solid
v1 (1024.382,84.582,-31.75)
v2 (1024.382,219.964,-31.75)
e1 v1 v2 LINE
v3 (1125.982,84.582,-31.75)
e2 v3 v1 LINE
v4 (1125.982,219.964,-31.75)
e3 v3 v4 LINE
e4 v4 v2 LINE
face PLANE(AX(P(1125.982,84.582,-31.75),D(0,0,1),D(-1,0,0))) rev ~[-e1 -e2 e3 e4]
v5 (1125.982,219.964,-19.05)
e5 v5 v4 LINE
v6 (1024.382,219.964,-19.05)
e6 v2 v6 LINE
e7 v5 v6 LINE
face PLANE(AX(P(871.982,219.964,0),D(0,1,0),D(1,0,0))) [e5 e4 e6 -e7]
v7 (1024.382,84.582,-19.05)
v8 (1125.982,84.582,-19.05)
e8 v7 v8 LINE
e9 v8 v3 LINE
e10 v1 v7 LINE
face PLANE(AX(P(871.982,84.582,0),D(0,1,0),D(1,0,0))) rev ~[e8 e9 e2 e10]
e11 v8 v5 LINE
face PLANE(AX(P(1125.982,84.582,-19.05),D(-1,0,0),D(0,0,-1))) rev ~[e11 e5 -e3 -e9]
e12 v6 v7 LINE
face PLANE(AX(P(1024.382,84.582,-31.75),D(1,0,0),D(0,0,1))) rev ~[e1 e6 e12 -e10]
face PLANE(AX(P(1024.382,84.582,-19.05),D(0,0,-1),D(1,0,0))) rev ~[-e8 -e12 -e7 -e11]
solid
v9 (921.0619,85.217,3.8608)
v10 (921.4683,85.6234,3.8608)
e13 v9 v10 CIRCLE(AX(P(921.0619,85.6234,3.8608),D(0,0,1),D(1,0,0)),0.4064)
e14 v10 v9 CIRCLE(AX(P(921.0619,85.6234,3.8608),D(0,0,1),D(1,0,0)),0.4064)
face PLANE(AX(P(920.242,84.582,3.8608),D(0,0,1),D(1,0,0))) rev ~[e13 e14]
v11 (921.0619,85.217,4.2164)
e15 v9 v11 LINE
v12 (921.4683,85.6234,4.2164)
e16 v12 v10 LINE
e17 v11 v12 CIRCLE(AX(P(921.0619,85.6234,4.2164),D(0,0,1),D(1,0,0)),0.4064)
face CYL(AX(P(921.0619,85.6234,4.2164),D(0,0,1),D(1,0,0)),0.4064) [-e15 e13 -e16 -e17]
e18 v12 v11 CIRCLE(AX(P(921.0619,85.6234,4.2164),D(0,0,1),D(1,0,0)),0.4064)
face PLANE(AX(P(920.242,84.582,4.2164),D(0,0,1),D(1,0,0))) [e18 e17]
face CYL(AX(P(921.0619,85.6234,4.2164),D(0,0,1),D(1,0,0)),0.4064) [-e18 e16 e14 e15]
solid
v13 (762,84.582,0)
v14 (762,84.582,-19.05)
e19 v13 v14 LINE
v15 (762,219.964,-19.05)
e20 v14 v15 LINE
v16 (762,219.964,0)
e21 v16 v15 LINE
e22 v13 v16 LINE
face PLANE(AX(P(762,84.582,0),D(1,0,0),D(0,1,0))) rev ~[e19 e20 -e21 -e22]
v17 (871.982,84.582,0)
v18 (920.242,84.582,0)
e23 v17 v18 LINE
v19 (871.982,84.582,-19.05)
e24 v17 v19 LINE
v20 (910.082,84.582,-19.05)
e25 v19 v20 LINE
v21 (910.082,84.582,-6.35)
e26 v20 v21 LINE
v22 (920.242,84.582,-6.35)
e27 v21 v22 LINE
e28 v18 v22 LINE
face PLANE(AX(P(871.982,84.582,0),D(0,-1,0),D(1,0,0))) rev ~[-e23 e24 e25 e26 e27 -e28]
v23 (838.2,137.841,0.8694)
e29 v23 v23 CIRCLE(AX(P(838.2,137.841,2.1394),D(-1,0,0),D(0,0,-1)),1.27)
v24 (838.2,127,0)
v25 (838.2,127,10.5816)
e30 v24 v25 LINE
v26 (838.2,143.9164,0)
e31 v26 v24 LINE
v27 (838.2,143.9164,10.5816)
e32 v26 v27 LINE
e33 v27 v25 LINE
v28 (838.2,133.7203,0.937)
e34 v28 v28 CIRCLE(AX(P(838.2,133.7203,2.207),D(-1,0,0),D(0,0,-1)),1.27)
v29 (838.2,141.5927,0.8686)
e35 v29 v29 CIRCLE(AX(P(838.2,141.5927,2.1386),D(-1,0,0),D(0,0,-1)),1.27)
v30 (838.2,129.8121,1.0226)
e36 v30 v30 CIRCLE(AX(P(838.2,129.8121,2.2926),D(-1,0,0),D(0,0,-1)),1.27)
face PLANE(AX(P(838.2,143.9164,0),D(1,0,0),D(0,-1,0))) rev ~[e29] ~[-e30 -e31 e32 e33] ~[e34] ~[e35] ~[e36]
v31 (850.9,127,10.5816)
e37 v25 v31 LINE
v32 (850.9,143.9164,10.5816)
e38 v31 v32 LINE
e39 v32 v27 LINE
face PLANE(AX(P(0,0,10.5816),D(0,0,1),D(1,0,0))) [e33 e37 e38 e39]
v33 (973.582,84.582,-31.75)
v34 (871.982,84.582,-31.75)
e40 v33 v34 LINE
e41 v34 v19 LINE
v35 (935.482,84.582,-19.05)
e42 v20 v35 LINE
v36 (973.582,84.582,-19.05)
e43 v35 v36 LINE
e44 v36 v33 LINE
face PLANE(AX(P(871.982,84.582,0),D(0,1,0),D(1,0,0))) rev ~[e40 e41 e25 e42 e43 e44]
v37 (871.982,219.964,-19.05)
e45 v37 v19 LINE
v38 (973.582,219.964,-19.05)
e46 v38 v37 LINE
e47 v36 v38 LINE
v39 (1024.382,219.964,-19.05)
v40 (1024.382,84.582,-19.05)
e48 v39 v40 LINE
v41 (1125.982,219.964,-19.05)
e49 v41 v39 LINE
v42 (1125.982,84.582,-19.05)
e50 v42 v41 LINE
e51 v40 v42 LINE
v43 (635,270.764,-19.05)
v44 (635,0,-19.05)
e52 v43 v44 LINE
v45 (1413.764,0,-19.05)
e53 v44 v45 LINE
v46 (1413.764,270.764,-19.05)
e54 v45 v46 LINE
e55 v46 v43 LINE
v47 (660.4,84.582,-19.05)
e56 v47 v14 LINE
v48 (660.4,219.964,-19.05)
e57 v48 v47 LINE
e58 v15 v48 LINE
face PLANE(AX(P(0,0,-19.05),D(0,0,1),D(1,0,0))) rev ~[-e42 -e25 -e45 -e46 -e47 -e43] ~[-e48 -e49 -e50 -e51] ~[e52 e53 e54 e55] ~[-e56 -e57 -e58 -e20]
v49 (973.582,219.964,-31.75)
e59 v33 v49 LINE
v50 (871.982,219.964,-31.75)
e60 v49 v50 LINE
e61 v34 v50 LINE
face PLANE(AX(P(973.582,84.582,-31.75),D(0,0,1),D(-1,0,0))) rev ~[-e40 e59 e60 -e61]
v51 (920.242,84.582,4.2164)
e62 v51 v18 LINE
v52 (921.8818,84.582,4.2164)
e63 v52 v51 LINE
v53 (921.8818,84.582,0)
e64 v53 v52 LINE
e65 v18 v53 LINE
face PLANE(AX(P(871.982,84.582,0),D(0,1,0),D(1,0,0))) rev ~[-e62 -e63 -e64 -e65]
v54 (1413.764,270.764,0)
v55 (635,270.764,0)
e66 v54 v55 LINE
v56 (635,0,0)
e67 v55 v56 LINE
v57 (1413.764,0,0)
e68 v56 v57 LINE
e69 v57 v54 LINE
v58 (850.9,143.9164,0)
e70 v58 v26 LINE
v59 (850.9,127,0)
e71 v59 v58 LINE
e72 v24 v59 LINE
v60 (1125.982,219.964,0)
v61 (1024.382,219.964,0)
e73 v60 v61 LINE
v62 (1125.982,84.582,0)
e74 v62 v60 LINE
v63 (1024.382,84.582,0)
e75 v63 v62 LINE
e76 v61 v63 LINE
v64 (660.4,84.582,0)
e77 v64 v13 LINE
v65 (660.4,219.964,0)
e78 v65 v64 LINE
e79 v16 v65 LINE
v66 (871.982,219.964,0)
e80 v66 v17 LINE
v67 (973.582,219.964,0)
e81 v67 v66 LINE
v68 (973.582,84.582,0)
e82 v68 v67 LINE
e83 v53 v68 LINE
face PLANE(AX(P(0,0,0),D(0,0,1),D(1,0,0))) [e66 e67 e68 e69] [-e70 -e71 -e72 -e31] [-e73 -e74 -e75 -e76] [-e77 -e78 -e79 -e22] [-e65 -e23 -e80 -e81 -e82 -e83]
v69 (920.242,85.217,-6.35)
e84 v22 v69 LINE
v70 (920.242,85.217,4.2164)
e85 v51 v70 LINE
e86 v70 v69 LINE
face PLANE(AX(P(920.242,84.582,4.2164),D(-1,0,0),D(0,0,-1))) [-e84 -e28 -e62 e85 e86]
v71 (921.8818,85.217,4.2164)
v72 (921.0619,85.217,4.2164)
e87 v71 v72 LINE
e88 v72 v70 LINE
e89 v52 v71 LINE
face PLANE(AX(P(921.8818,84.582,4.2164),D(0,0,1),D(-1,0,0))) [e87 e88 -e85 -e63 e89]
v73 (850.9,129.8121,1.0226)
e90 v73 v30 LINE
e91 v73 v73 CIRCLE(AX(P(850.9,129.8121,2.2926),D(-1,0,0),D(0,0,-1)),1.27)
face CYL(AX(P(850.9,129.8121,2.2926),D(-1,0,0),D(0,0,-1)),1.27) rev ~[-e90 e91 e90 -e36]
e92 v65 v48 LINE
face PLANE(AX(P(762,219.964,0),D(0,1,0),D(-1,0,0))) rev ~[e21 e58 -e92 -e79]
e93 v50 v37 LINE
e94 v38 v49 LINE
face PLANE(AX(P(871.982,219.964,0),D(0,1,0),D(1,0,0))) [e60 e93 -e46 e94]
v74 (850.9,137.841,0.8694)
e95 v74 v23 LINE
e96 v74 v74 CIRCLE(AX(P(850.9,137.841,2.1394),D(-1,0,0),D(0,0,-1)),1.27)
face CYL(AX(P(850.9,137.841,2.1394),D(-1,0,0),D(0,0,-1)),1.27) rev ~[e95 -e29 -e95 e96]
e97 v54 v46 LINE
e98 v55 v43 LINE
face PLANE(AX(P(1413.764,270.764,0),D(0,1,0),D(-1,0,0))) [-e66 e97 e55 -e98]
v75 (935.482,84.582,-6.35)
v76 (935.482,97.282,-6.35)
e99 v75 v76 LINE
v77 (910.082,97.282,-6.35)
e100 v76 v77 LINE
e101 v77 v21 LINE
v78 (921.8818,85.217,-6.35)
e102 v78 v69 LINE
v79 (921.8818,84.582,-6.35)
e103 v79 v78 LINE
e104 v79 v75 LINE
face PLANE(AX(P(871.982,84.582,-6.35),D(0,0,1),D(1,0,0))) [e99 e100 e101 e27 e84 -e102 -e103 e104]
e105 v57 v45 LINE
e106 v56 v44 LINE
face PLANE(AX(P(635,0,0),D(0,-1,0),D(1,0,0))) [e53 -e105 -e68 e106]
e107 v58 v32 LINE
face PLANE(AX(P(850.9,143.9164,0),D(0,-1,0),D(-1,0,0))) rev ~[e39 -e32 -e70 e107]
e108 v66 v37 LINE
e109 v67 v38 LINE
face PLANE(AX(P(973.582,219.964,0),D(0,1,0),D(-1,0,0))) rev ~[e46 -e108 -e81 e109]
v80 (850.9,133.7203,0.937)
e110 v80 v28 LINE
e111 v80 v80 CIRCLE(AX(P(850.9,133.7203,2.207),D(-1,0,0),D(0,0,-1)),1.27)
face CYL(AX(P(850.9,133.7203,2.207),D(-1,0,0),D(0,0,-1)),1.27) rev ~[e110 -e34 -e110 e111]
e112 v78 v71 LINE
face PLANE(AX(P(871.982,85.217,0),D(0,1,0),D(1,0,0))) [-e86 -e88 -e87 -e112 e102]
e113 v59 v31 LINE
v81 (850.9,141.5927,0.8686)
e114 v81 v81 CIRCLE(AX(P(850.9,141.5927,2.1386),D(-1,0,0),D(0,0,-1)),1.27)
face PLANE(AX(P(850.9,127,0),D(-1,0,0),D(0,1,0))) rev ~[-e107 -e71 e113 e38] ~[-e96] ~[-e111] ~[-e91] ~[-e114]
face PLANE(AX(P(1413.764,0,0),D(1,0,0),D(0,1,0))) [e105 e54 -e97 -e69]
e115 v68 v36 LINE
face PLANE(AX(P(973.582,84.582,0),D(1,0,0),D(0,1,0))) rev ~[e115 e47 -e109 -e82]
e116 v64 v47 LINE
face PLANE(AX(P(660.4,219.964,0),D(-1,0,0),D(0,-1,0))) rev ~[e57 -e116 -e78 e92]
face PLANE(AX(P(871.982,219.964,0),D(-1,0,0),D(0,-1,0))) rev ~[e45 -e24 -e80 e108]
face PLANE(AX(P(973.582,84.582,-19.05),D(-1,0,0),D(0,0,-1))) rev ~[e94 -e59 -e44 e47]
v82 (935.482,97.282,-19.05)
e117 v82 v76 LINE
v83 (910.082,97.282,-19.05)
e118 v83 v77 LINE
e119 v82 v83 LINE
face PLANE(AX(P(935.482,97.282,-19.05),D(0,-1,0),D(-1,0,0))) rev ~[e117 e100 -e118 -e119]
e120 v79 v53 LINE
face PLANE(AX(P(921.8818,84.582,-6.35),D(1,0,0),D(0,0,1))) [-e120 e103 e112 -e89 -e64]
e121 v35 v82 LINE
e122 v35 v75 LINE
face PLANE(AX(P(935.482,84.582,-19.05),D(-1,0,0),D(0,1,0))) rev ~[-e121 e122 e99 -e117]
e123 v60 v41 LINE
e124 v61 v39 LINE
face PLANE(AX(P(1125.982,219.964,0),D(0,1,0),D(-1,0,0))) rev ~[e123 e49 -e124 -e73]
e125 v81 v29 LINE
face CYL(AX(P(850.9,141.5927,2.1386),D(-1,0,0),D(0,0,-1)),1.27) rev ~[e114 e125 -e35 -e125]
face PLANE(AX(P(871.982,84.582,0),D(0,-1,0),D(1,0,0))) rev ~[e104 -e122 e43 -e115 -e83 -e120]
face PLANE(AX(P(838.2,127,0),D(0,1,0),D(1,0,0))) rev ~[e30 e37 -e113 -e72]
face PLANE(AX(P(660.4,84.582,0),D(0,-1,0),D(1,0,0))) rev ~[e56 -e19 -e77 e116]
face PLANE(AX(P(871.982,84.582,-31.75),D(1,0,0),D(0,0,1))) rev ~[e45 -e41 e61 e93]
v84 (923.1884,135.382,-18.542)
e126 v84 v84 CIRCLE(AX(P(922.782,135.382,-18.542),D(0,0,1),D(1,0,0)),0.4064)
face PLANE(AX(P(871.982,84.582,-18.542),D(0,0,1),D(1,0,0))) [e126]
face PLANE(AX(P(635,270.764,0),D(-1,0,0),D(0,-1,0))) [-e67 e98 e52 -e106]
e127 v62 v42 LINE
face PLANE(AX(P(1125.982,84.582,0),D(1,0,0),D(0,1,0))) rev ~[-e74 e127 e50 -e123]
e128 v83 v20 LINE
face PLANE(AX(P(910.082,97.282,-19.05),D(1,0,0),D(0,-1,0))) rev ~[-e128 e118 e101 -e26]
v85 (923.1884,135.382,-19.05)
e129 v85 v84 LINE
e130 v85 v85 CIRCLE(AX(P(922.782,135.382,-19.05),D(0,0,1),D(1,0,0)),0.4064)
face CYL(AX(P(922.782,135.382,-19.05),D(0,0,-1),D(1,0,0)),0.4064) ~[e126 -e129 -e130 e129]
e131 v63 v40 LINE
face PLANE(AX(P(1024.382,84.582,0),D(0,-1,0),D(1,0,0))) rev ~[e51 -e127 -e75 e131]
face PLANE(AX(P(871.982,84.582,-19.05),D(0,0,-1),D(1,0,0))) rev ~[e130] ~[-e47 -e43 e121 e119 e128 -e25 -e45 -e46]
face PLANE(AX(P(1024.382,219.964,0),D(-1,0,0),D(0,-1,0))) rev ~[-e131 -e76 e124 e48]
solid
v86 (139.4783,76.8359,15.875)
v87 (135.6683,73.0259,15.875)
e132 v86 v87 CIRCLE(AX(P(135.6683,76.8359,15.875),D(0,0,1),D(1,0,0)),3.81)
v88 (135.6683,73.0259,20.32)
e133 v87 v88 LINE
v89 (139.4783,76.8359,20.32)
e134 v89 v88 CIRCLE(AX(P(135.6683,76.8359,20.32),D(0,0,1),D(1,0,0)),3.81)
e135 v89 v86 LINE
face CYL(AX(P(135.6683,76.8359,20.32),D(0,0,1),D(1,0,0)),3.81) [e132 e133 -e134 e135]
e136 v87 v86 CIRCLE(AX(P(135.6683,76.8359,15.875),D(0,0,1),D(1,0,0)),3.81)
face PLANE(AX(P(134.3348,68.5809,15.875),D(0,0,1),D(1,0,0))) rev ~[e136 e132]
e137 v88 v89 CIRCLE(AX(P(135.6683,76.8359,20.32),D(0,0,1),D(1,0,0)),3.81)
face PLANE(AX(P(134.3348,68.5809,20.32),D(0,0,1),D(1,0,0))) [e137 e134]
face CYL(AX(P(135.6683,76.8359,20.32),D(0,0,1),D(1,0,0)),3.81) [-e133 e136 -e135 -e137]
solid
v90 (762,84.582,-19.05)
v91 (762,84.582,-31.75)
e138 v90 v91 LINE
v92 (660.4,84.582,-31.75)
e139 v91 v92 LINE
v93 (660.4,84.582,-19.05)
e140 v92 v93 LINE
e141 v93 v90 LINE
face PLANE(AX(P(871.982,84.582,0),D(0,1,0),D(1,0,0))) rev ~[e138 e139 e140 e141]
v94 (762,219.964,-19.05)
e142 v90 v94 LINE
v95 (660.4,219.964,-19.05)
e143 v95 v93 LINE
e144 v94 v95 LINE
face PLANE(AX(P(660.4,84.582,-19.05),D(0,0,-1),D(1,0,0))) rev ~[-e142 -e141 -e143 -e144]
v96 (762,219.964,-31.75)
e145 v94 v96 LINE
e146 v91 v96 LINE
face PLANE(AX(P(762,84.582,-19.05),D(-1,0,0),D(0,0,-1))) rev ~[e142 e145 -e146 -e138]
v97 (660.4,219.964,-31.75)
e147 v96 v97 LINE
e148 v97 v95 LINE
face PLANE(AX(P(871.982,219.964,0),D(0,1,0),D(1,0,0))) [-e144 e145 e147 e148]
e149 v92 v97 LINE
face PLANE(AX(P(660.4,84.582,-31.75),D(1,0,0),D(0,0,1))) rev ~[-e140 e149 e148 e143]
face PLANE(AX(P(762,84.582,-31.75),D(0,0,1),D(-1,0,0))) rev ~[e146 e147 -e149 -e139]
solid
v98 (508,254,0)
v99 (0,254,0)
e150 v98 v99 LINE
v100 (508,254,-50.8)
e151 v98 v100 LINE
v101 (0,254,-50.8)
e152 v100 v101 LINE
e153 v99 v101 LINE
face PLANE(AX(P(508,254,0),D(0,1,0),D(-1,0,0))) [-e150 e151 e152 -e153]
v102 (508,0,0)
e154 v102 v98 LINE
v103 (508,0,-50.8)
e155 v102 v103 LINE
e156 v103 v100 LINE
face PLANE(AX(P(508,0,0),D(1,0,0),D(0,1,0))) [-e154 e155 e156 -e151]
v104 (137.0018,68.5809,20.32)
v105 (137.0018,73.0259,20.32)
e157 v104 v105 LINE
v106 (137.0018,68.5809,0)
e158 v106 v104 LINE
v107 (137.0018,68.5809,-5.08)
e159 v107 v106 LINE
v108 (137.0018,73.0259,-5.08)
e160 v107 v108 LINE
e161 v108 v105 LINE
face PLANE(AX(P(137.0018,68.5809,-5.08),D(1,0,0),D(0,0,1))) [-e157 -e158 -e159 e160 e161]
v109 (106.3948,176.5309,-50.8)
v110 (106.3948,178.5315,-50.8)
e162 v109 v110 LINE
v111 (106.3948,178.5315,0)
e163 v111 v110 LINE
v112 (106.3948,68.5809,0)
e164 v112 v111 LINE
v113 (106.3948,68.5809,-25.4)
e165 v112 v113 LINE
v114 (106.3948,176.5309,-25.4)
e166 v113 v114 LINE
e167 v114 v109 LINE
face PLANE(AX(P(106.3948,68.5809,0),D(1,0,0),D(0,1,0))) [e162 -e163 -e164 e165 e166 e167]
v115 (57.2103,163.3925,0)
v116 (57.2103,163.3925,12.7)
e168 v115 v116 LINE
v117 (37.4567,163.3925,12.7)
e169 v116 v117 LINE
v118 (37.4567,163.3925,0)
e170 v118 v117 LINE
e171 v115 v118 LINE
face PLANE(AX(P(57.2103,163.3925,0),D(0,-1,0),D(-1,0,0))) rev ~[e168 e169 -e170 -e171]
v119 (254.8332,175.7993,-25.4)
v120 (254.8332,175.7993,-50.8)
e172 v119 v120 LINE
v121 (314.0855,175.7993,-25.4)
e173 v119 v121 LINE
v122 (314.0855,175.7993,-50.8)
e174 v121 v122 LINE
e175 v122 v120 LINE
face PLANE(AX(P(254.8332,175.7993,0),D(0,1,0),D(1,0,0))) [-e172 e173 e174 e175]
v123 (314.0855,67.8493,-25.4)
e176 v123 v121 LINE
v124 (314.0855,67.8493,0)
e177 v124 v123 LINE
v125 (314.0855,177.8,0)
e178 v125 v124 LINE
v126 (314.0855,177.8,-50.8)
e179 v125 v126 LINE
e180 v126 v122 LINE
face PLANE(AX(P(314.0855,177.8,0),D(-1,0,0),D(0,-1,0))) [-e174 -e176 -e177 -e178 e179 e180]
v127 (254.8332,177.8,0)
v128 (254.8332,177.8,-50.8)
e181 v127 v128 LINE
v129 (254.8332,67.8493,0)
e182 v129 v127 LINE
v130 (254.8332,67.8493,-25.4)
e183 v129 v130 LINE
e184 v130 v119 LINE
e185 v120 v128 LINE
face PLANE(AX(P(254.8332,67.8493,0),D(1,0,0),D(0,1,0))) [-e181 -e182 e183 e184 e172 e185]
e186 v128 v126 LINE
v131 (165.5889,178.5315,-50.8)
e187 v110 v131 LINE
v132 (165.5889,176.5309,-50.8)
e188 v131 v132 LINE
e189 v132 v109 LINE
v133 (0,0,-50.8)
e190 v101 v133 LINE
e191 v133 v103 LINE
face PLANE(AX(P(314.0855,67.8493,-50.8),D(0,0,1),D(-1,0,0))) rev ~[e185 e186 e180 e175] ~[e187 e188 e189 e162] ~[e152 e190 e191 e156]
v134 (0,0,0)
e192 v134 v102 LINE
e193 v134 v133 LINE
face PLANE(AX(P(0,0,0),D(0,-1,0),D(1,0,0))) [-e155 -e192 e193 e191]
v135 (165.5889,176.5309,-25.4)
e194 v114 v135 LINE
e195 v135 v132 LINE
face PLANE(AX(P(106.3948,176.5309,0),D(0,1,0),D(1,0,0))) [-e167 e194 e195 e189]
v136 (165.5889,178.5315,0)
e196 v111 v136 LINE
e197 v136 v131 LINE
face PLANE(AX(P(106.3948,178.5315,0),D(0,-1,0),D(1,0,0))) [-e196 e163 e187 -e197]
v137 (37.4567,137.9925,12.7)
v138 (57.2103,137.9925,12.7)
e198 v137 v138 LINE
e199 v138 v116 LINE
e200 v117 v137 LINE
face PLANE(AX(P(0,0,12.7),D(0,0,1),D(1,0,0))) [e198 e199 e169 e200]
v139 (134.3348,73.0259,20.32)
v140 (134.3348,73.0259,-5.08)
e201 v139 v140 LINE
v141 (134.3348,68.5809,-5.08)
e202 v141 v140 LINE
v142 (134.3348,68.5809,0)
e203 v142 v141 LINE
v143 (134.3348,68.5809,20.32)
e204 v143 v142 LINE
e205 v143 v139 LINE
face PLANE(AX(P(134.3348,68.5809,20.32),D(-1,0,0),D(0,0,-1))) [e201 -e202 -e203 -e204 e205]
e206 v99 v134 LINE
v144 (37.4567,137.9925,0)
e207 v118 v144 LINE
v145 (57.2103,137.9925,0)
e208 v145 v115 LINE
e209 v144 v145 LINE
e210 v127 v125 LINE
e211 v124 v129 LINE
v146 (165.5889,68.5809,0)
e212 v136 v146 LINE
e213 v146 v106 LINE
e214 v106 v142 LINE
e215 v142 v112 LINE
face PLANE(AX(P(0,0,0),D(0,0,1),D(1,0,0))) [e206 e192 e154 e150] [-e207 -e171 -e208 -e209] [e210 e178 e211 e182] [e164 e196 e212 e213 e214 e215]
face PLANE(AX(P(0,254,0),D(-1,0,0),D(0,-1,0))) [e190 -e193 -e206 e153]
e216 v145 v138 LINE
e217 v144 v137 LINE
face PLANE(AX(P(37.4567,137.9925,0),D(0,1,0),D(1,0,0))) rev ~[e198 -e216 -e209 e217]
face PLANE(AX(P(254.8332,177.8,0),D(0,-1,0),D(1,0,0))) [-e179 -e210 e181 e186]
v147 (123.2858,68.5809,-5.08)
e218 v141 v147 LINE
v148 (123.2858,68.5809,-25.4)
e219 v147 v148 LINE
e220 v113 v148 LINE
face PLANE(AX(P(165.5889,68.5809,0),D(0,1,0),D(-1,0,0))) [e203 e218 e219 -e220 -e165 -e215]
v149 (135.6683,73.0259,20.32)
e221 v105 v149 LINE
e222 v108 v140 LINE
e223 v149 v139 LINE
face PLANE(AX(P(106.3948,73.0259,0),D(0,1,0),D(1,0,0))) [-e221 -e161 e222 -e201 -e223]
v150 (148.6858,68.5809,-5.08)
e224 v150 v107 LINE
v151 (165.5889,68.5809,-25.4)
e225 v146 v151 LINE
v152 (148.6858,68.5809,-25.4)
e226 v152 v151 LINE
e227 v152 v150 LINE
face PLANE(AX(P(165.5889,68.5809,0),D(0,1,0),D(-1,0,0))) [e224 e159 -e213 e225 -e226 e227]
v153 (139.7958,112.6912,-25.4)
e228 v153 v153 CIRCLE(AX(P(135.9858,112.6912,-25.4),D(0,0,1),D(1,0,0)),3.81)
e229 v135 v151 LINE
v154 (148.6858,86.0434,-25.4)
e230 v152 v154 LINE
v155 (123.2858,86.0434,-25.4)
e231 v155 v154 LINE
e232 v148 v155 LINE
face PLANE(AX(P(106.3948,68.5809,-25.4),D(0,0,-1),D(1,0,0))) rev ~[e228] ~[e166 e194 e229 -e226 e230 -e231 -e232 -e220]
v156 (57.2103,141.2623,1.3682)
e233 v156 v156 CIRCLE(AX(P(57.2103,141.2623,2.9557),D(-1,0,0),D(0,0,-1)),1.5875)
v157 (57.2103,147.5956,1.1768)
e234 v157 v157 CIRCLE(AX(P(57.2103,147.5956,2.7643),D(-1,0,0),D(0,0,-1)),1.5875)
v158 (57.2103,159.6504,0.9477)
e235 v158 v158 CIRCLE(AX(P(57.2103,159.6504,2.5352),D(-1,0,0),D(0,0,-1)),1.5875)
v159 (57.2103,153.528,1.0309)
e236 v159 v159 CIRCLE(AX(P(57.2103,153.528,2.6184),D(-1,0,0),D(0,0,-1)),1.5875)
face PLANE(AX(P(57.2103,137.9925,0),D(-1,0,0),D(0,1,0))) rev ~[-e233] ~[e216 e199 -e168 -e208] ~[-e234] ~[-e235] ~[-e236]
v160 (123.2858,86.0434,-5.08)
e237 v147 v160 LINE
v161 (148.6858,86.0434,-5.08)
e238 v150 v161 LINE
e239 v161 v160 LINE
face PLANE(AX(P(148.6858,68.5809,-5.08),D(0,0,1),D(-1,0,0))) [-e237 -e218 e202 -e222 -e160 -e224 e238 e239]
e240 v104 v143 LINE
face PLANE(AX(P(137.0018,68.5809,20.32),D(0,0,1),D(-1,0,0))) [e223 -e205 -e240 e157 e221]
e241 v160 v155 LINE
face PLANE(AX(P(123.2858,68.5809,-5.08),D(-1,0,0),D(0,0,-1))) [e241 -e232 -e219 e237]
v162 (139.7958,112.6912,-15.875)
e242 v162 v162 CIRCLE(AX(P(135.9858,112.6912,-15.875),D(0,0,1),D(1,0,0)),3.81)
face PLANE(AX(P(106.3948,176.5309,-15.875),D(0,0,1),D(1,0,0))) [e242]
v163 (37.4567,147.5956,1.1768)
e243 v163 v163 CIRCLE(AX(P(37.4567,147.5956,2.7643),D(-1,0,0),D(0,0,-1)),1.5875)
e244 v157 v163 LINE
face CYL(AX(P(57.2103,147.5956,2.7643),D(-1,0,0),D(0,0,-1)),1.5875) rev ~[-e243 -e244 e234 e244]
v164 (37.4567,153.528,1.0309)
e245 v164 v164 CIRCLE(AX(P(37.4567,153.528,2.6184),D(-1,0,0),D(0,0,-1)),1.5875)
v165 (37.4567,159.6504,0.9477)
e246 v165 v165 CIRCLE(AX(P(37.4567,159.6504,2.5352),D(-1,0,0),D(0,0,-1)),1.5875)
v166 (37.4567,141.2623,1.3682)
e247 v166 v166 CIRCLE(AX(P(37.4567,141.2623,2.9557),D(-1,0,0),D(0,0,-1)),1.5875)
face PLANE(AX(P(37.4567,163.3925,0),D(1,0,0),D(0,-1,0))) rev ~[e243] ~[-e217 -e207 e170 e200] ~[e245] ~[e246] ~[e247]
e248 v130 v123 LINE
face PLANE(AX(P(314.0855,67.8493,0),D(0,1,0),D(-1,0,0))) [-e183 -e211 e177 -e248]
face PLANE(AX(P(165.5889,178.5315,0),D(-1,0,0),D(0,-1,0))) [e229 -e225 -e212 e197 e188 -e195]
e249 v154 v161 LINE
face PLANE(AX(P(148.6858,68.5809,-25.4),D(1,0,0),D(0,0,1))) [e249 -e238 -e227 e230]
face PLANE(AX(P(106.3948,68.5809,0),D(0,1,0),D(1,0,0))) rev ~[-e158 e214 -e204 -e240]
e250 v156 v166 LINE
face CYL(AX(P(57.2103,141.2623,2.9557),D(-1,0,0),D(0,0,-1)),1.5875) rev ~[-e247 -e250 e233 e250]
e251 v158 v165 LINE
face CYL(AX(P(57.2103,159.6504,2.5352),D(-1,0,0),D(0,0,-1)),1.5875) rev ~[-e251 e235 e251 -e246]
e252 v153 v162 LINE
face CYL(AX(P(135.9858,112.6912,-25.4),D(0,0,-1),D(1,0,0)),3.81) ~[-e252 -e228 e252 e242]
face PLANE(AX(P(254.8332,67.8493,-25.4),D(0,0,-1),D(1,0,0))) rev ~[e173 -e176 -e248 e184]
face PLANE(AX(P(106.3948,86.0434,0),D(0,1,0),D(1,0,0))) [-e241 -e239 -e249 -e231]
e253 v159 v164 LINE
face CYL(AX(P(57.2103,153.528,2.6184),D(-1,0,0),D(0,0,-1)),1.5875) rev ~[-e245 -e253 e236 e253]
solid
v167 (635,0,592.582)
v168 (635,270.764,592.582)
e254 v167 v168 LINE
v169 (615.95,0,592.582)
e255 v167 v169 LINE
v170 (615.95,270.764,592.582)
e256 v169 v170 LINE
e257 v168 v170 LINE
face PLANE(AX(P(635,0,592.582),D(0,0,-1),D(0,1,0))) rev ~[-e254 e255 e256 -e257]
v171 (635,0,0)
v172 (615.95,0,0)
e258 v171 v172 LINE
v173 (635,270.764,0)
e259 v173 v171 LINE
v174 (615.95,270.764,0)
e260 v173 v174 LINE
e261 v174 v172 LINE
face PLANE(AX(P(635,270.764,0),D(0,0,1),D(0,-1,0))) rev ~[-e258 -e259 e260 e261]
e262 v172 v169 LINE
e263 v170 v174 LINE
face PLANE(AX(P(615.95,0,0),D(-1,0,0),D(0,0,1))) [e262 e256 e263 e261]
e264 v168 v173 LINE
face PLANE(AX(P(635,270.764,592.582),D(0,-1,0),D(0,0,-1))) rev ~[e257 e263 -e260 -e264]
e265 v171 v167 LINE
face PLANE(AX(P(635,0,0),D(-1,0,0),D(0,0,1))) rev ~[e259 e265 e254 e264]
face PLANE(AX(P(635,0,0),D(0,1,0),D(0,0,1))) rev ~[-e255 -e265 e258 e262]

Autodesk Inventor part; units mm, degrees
ref_plane "YZ Plane" through (0, 0, 0) normal (1, 0, 0) x (0, 1, 0)
ref_plane "XZ Plane" through (0, 0, 0) normal (0, 1, 0) x (-1, 0, 0)
ref_plane "XY Plane" through (0, 0, 0) normal (0, 0, 1) x (1, 0, 0)
sketch "Sketch5" plane through (0, 0, 0) normal (0, 0, 1) x (1, 0, 0)
  line L0 (0, 0) -> (508, 0)
  line L1 (508, 0) -> (508, 254)
  line L2 (508, 254) -> (0, 254)
  line L3 (0, 254) -> (0, 0)
  line L4 (106.3948, 178.5315) -> (165.5889, 178.5315)
  line L5 (165.5889, 178.5315) -> (165.5889, 68.5809)
  line L6 (165.5889, 68.5809) -> (106.3948, 68.5809)
  line L7 (106.3948, 68.5809) -> (106.3948, 178.5315)
  line L8 (254.8332, 177.8) -> (314.0855, 177.8)
  line L9 (314.0855, 177.8) -> (314.0855, 67.8493)
  line L10 (314.0855, 67.8493) -> (254.8332, 67.8493)
  line L11 (254.8332, 67.8493) -> (254.8332, 177.8)
  dimension "d14" = 508
  dimension "d15" = 254
extrude "Extrusion4" add sketch "Sketch5" against normal blind 50.8
sketch "Sketch8" plane through (106.3948, 68.5809, 0) normal (0, 1, 0) x (1, 0, 0)
  line L0 (0, 0) -> (0, 50.8) projected
  line L1 (0, 25.4) -> (59.1942, 25.4)
  line L2 (59.1942, 25.4) -> (59.1942, 50.8)
  line L3 (59.1942, 50.8) -> (0, 50.8)
  line L4 (0, 50.8) -> (0, 25.4)
  point P0 (-106.3948, 0)
extrude "Extrusion6" add sketch "Sketch8" along normal blind 107.95
sketch "Sketch9" plane through (254.8332, 67.8493, 0) normal (0, 1, 0) x (1, 0, 0)
  line L0 (0, 0) -> (0, 50.8) projected
  line L1 (0, 25.4) -> (59.2523, 25.4)
  line L2 (59.2523, 25.4) -> (59.2523, 50.8)
  line L3 (59.2523, 50.8) -> (0, 50.8)
  line L4 (0, 50.8) -> (0, 25.4)
  point P0 (-254.8332, 0)
extrude "Extrusion7" add sketch "Sketch9" along normal blind 107.95
sketch "Sketch10" plane through (106.3948, 68.5809, 0) normal (0, 1, 0) x (1, 0, 0)
  line L0 (16.891, 25.4) -> (42.291, 25.4)
  line L1 (42.291, 25.4) -> (42.291, 5.08)
  line L2 (42.291, 5.08) -> (16.891, 5.08)
  line L3 (16.891, 5.08) -> (16.891, 25.4)
  point P0 (-106.3948, 0)
  dimension "d35" = 25.4
  dimension "d36" = 20.32
extrude "Extrusion8" add sketch "Sketch10" along normal blind 17.4625
sketch "Sketch11" plane through (106.3948, 176.5309, -25.4) normal (0, 0, 1) x (1, 0, 0)
  circle A0 centre (29.591, -63.8397) radius 3.81
  point P0 (-106.3948, -176.5309)
  dimension "d40" = 7.62
extrude "Extrusion9" add sketch "Sketch11" along normal blind 9.525
sketch "Sketch12" plane through (106.3948, 68.5809, 0) normal (0, 1, 0) x (1, 0, 0)
  line L0 (42.291, 5.08) -> (16.891, 5.08) projected
  line L1 (27.94, 5.08) -> (30.607, 5.08)
  line L2 (30.607, 5.08) -> (30.607, -20.32)
  line L3 (30.607, -20.32) -> (27.94, -20.32)
  line L4 (27.94, -20.32) -> (27.94, 5.08)
  point P0 (-106.3948, 0)
  dimension "d43" = 2.667
  dimension "d44" = 25.4
extrude "Extrusion10" add sketch "Sketch12" along normal blind 4.445
sketch "Sketch13" plane through (134.3348, 68.5809, 20.32) normal (0, 0, 1) x (1, 0, 0)
  circle A0 centre (1.3335, 8.255) radius 3.81
  point P0 (-134.3348, -68.5809)
  dimension "d47" = 7.62
extrude "Extrusion11" add sketch "Sketch13" against normal blind 4.445
sketch "Sketch16" plane through (106.3948, 176.5309, -25.4) normal (0, 0, 1) x (1, 0, 0)
  line L0 (14.3059, -54.6716) -> (46.9521, -54.6716) construction
  line L1 (46.9521, -54.6716) -> (46.9521, -58.6978) construction
  line L2 (46.9521, -58.6978) -> (14.3059, -58.6978) construction
  line L3 (14.3059, -58.6978) -> (14.3059, -54.6716) construction
  point P0 (-106.3948, -176.5309)
sketch "Sketch17" plane through (106.3948, 176.5309, -25.4) normal (0, 0, 1) x (1, 0, 0)
  line L0 (15.7059, -85.8021) -> (44.6397, -85.8021) construction
  line L1 (44.6397, -85.8021) -> (44.6397, -89.8282) construction
  line L2 (44.6397, -89.8282) -> (15.7059, -89.8282) construction
  line L3 (15.7059, -89.8282) -> (15.7059, -85.8021) construction
  point P0 (-106.3948, -176.5309)
sketch "Sketch18" plane through (135.6683, 76.8359, 20.32) normal (0, 0, 1) x (1, 0, 0)
  line L0 (-19.3162, -9.5529) -> (36.6939, -9.5529) construction
  line L1 (36.6939, -9.5529) -> (36.6939, -13.579) construction
  line L2 (36.6939, -13.579) -> (-19.3162, -13.579) construction
  line L3 (-19.3162, -13.579) -> (-19.3162, -9.5529) construction
  point P0 (-135.6683, -76.8359)
sketch "Sketch19" plane through (0, 0, 0) normal (0, 0, 1) x (1, 0, 0)
  line L0 (106.3948, 68.5809) -> (106.3948, 176.5309) projected
  arc A0 (56.654, 159.4739) -> (106.3948, 159.8999) centre (80.9132, 231.0621) ccw
  point P0 (0, 0)
sketch "Sketch21" plane through (106.3948, 68.5809, 0) normal (1, 0, 0) x (0, 0, -1)
  line L0 (0, 0) -> (0, 109.9507) projected
  line L1 (25.4, 0) -> (25.4, 107.95) projected
  arc A0 (0, 91.1415) -> (25.4, 43.4398) centre (113.4917, 120.9598) ccw
  point P0 (0, -68.5809)
sketch "Sketch22" plane through (106.3948, 176.5309, -25.4) normal (0, 0, 1) x (1, 0, 0)
  line L0 (0, -107.95) -> (0, 0) projected
  circle A0 centre (29.591, -63.8397) radius 3.81 projected
  arc A1 (0, -65.62) -> (25.781, -63.8397) centre (10.1339, -24.8109) ccw
  point P0 (-106.3948, -176.5309)
sketch "Sketch24" plane through (0, 0, 0) normal (0, 0, 1) x (1, 0, 0)
  line L0 (63.5, 165.1) -> (63.5, 127) projected
  arc A0 (63.5, 150.7683) -> (106.3948, 144.9276) centre (98.4452, 246.9769) ccw
  point P0 (0, 0)
sketch "Sketch25" plane through (106.3948, 68.5809, 0) normal (1, 0, 0) x (0, 0, -1)
  line L0 (0, 0) -> (25.4, 0) projected
  arc A0 (0, 75.9575) -> (20.5025, 0) centre (471.8024, 162.5611) ccw
  point P0 (0, -68.5809)
sketch "Sketch26" plane through (106.3948, 68.5809, 0) normal (0, 1, 0) x (1, 0, 0)
  line L0 (0, 0) -> (0, 25.4) projected
  line L1 (16.891, 5.08) -> (16.891, 25.4) projected
  arc A0 (0, 20.7585) -> (16.891, 14.7493) centre (10.6546, 23.9633) ccw
  point P0 (-106.3948, 0)
sketch "Sketch28" plane through (0, 0, 0) normal (0, 0, 1) x (1, 0, 0)
  line L0 (134.3348, 68.5809) -> (106.3948, 68.5809) projected
  line L1 (137.0018, 68.5809) -> (134.3348, 68.5809) projected
  arc A0 (131.2385, 68.5809) -> (134.3348, 68.5809) centre (132.7866, 73.5411) ccw
  arc A1 (35.3873, 159.2878) -> (131.2385, 65.871) centre (111.28, 141.2753) ccw
  line L2 (106.3948, 68.5809) -> (106.3948, 178.5315) projected
  arc A2 (56.8389, 152.8761) -> (106.3948, 144.0937) centre (94.7313, 222.4849) ccw
  point P0 (0, 0)
sketch "Sketch30" plane through (0, 0, 0) normal (0, 0, 1) x (1, 0, 0)
  line L0 (64.7632, 170.4894) -> (105.7037, 170.4894) construction
  line L1 (105.7037, 170.4894) -> (105.7037, 161.4449) construction
  line L2 (105.7037, 161.4449) -> (64.7632, 161.4449) construction
  line L3 (64.7632, 161.4449) -> (64.7632, 170.4894) construction
  line L4 (60.3339, 142.2504) -> (104.8125, 142.2504) construction
  line L5 (104.8125, 142.2504) -> (104.8125, 133.2058) construction
  line L6 (104.8125, 133.2058) -> (60.3339, 133.2058) construction
  line L7 (60.3339, 133.2058) -> (60.3339, 142.2504) construction
  line L8 (53.7063, 100.1518) -> (93.849, 100.1518) construction
  line L9 (93.849, 100.1518) -> (93.849, 90.0633) construction
  line L10 (93.849, 90.0633) -> (53.7063, 90.0633) construction
  line L11 (53.7063, 90.0633) -> (53.7063, 100.1518) construction
  point P0 (0, 0)
sketch "Sketch32" plane through (0, 0, 0) normal (0, 0, 1) x (1, 0, 0)
  line L0 (57.2103, 163.3925) -> (37.4567, 163.3925)
  line L1 (37.4567, 163.3925) -> (37.4567, 137.9925)
  line L2 (37.4567, 137.9925) -> (57.2103, 137.9925)
  line L3 (57.2103, 137.9925) -> (57.2103, 163.3925)
  point P0 (0, 0)
  dimension "d51" = 19.7536
  dimension "d52" = 25.4
extrude "Extrusion12" add sketch "Sketch32" along normal blind 12.7
sketch "Sketch33" plane through (0, 0, 12.7) normal (0, 0, 1) x (1, 0, 0)
  line L0 (37.7328, 161.9101) -> (67.7929, 161.9101) construction
  line L1 (67.7929, 161.9101) -> (67.7929, 152.5818) construction
  line L2 (67.7929, 152.5818) -> (37.7328, 152.5818) construction
  line L3 (37.7328, 152.5818) -> (37.7328, 161.9101) construction
  point P0 (0, 0)
sketch "Sketch34" plane through (57.2103, 137.9925, 0) normal (1, 0, 0) x (0, 0, -1)
  point P0 (0, -137.9925)
  point P1 (-2.5352, 21.6579)
  point P2 (-2.6184, 15.5355)
  point P3 (-2.7643, 9.6031)
  point P4 (-2.9557, 3.2698)
hole "Hole2" at (57.2103, 159.6504, 2.5352) at (57.2103, 153.528, 2.6184) at (57.2103, 141.2623, 2.9557) at (57.2103, 147.5956, 2.7643) direction (-1, 0, 0) diameter 3.175 depth 131.445 tip angle 126
sketch "Sketch35" plane through (0, 0, 0) normal (0, -1, 0) x (1, 0, 0)
  point P0 (0, 0)
sketch "Sketch36" plane through (0, 0, 0) normal (0, 0, 1) x (1, 0, 0)
  line L0 (635, 0) -> (1413.764, 0)
  line L1 (1413.764, 0) -> (1413.764, 270.764)
  line L2 (1413.764, 270.764) -> (635, 270.764)
  line L3 (635, 270.764) -> (635, 0)
  line L4 (871.982, 84.582) -> (973.582, 84.582)
  line L5 (973.582, 84.582) -> (973.582, 219.964)
  line L6 (973.582, 219.964) -> (871.982, 219.964)
  line L7 (871.982, 219.964) -> (871.982, 84.582)
  line L8 (1024.382, 84.582) -> (1125.982, 84.582)
  line L9 (1125.982, 84.582) -> (1125.982, 219.964)
  line L10 (1125.982, 219.964) -> (1024.382, 219.964)
  line L11 (1024.382, 219.964) -> (1024.382, 84.582)
  line L12 (660.4, 84.582) -> (762, 84.582)
  line L13 (762, 84.582) -> (762, 219.964)
  line L14 (762, 219.964) -> (660.4, 219.964)
  line L15 (660.4, 219.964) -> (660.4, 84.582)
  point P0 (0, 0)
  dimension "d62" = 778.764
  dimension "d63" = 270.764
  dimension "d64" = 101.6
  dimension "d65" = 135.382
  dimension "d66" = 101.6
  dimension "d67" = 135.382
  dimension "d68" = 101.6
  dimension "d69" = 135.382
extrude "Extrusion13" add sketch "Sketch36" against normal blind 19.05
sketch "Sketch37" plane through (635, 0, 0) normal (-1, 0, 0) x (0, 0, 1)
  point P0 (0, 0)
sketch "Sketch38" plane through (635, 0, 0) normal (-1, 0, 0) x (0, 0, 1)
  line L0 (0, 0) -> (-19.05, 0) projected
  line L1 (0, 0) -> (592.582, 0)
  line L2 (592.582, 0) -> (592.582, 270.764)
  line L3 (592.582, 270.764) -> (0, 270.764)
  line L4 (0, 270.764) -> (0, 0)
  dimension "d72" = 592.582
  dimension "d73" = 270.764
extrude "Extrusion14" add sketch "Sketch38" along normal blind 19.05
sketch "Sketch39" plane through (871.982, 84.582, 0) normal (0, 1, 0) x (1, 0, 0)
  line L0 (0, 19.05) -> (101.6, 19.05) projected
  line L1 (0, 19.05) -> (101.6, 19.05)
  line L2 (101.6, 19.05) -> (101.6, 31.75)
  line L3 (101.6, 31.75) -> (0, 31.75)
  line L4 (0, 31.75) -> (0, 19.05)
  line L5 (152.4, 19.05) -> (254, 19.05)
  line L6 (254, 19.05) -> (254, 31.75)
  line L7 (254, 31.75) -> (152.4, 31.75)
  line L8 (152.4, 31.75) -> (152.4, 19.05)
  line L9 (-211.582, 0) -> (-211.582, 19.05) projected
  line L10 (-211.582, 19.05) -> (-109.982, 19.05)
  line L11 (-109.982, 19.05) -> (-109.982, 31.75)
  line L12 (-109.982, 31.75) -> (-211.582, 31.75)
  line L13 (-211.582, 31.75) -> (-211.582, 19.05)
  point P0 (-871.982, 0)
  dimension "d76" = 101.6
  dimension "d77" = 12.7
  dimension "d78" = 101.6
  dimension "d79" = 12.7
  dimension "d80" = 101.6
  dimension "d81" = 12.7
extrude "Extrusion15" add sketch "Sketch39" along normal blind 135.382
sketch "Sketch40" plane through (0, 0, 0) normal (0, 0, 1) x (1, 0, 0)
  line L0 (838.2, 127) -> (850.9, 127)
  line L1 (850.9, 127) -> (850.9, 143.9164)
  line L2 (850.9, 143.9164) -> (838.2, 143.9164)
  line L3 (838.2, 143.9164) -> (838.2, 127)
  point P0 (0, 0)
  dimension "d84" = 12.7
  dimension "d85" = 16.9164
extrude "Extrusion16" add sketch "Sketch40" along normal blind 10.5816
sketch "Sketch41" plane through (850.9, 127, 0) normal (1, 0, 0) x (0, 0, -1)
  point P0 (0, -127)
  point P1 (-2.1386, 14.5927)
  point P2 (-2.1394, 10.841)
  point P3 (-2.207, 6.7203)
  point P4 (-2.2926, 2.8121)
hole "Hole3" at (850.9, 137.841, 2.1394) at (850.9, 141.5927, 2.1386) at (850.9, 133.7203, 2.207) at (850.9, 129.8121, 2.2926) direction (-1, 0, 0) diameter 2.54 depth 190.5
sketch "Sketch42" plane through (871.982, 84.582, -19.05) normal (0, 0, 1) x (1, 0, 0)
  circle A0 centre (50.8, 50.8) radius 0.4064
  point P0 (-871.982, -84.582)
  dimension "d95" = 0.8128
extrude "Extrusion17" add sketch "Sketch42" along normal blind 0.508
sketch "Sketch46" plane through (871.982, 84.582, -19.05) normal (0, 0, 1) x (1, 0, 0)
  line L0 (38.1, 0) -> (63.5, 0)
  line L1 (63.5, 0) -> (63.5, 12.7)
  line L2 (63.5, 12.7) -> (38.1, 12.7)
  line L3 (38.1, 12.7) -> (38.1, 0)
  point P0 (-871.982, -84.582)
  dimension "d98" = 25.4
  dimension "d99" = 12.7
extrude "Extrusion18" add sketch "Sketch46" along normal blind 12.7
sketch "Sketch47" plane through (871.982, 84.582, 0) normal (0, 1, 0) x (1, 0, 0)
  line L0 (63.5, 6.35) -> (38.1, 6.35) projected
  line L1 (48.26, 6.35) -> (49.8998, 6.35)
  line L2 (49.8998, 6.35) -> (49.8998, -4.2164)
  line L3 (49.8998, -4.2164) -> (48.26, -4.2164)
  line L4 (48.26, -4.2164) -> (48.26, 6.35)
  point P0 (-871.982, 0)
  dimension "d102" = 10.5664
extrude "Extrusion19" add sketch "Sketch47" along normal blind 0.635
sketch "Sketch48" plane through (920.242, 84.582, 4.2164) normal (0, 0, 1) x (1, 0, 0)
  circle A0 centre (0.8199, 1.0414) radius 0.4064
  point P0 (-920.242, -84.582)
extrude "Extrusion20" add sketch "Sketch48" against normal blind 0.3556
properties part number "Scene"
